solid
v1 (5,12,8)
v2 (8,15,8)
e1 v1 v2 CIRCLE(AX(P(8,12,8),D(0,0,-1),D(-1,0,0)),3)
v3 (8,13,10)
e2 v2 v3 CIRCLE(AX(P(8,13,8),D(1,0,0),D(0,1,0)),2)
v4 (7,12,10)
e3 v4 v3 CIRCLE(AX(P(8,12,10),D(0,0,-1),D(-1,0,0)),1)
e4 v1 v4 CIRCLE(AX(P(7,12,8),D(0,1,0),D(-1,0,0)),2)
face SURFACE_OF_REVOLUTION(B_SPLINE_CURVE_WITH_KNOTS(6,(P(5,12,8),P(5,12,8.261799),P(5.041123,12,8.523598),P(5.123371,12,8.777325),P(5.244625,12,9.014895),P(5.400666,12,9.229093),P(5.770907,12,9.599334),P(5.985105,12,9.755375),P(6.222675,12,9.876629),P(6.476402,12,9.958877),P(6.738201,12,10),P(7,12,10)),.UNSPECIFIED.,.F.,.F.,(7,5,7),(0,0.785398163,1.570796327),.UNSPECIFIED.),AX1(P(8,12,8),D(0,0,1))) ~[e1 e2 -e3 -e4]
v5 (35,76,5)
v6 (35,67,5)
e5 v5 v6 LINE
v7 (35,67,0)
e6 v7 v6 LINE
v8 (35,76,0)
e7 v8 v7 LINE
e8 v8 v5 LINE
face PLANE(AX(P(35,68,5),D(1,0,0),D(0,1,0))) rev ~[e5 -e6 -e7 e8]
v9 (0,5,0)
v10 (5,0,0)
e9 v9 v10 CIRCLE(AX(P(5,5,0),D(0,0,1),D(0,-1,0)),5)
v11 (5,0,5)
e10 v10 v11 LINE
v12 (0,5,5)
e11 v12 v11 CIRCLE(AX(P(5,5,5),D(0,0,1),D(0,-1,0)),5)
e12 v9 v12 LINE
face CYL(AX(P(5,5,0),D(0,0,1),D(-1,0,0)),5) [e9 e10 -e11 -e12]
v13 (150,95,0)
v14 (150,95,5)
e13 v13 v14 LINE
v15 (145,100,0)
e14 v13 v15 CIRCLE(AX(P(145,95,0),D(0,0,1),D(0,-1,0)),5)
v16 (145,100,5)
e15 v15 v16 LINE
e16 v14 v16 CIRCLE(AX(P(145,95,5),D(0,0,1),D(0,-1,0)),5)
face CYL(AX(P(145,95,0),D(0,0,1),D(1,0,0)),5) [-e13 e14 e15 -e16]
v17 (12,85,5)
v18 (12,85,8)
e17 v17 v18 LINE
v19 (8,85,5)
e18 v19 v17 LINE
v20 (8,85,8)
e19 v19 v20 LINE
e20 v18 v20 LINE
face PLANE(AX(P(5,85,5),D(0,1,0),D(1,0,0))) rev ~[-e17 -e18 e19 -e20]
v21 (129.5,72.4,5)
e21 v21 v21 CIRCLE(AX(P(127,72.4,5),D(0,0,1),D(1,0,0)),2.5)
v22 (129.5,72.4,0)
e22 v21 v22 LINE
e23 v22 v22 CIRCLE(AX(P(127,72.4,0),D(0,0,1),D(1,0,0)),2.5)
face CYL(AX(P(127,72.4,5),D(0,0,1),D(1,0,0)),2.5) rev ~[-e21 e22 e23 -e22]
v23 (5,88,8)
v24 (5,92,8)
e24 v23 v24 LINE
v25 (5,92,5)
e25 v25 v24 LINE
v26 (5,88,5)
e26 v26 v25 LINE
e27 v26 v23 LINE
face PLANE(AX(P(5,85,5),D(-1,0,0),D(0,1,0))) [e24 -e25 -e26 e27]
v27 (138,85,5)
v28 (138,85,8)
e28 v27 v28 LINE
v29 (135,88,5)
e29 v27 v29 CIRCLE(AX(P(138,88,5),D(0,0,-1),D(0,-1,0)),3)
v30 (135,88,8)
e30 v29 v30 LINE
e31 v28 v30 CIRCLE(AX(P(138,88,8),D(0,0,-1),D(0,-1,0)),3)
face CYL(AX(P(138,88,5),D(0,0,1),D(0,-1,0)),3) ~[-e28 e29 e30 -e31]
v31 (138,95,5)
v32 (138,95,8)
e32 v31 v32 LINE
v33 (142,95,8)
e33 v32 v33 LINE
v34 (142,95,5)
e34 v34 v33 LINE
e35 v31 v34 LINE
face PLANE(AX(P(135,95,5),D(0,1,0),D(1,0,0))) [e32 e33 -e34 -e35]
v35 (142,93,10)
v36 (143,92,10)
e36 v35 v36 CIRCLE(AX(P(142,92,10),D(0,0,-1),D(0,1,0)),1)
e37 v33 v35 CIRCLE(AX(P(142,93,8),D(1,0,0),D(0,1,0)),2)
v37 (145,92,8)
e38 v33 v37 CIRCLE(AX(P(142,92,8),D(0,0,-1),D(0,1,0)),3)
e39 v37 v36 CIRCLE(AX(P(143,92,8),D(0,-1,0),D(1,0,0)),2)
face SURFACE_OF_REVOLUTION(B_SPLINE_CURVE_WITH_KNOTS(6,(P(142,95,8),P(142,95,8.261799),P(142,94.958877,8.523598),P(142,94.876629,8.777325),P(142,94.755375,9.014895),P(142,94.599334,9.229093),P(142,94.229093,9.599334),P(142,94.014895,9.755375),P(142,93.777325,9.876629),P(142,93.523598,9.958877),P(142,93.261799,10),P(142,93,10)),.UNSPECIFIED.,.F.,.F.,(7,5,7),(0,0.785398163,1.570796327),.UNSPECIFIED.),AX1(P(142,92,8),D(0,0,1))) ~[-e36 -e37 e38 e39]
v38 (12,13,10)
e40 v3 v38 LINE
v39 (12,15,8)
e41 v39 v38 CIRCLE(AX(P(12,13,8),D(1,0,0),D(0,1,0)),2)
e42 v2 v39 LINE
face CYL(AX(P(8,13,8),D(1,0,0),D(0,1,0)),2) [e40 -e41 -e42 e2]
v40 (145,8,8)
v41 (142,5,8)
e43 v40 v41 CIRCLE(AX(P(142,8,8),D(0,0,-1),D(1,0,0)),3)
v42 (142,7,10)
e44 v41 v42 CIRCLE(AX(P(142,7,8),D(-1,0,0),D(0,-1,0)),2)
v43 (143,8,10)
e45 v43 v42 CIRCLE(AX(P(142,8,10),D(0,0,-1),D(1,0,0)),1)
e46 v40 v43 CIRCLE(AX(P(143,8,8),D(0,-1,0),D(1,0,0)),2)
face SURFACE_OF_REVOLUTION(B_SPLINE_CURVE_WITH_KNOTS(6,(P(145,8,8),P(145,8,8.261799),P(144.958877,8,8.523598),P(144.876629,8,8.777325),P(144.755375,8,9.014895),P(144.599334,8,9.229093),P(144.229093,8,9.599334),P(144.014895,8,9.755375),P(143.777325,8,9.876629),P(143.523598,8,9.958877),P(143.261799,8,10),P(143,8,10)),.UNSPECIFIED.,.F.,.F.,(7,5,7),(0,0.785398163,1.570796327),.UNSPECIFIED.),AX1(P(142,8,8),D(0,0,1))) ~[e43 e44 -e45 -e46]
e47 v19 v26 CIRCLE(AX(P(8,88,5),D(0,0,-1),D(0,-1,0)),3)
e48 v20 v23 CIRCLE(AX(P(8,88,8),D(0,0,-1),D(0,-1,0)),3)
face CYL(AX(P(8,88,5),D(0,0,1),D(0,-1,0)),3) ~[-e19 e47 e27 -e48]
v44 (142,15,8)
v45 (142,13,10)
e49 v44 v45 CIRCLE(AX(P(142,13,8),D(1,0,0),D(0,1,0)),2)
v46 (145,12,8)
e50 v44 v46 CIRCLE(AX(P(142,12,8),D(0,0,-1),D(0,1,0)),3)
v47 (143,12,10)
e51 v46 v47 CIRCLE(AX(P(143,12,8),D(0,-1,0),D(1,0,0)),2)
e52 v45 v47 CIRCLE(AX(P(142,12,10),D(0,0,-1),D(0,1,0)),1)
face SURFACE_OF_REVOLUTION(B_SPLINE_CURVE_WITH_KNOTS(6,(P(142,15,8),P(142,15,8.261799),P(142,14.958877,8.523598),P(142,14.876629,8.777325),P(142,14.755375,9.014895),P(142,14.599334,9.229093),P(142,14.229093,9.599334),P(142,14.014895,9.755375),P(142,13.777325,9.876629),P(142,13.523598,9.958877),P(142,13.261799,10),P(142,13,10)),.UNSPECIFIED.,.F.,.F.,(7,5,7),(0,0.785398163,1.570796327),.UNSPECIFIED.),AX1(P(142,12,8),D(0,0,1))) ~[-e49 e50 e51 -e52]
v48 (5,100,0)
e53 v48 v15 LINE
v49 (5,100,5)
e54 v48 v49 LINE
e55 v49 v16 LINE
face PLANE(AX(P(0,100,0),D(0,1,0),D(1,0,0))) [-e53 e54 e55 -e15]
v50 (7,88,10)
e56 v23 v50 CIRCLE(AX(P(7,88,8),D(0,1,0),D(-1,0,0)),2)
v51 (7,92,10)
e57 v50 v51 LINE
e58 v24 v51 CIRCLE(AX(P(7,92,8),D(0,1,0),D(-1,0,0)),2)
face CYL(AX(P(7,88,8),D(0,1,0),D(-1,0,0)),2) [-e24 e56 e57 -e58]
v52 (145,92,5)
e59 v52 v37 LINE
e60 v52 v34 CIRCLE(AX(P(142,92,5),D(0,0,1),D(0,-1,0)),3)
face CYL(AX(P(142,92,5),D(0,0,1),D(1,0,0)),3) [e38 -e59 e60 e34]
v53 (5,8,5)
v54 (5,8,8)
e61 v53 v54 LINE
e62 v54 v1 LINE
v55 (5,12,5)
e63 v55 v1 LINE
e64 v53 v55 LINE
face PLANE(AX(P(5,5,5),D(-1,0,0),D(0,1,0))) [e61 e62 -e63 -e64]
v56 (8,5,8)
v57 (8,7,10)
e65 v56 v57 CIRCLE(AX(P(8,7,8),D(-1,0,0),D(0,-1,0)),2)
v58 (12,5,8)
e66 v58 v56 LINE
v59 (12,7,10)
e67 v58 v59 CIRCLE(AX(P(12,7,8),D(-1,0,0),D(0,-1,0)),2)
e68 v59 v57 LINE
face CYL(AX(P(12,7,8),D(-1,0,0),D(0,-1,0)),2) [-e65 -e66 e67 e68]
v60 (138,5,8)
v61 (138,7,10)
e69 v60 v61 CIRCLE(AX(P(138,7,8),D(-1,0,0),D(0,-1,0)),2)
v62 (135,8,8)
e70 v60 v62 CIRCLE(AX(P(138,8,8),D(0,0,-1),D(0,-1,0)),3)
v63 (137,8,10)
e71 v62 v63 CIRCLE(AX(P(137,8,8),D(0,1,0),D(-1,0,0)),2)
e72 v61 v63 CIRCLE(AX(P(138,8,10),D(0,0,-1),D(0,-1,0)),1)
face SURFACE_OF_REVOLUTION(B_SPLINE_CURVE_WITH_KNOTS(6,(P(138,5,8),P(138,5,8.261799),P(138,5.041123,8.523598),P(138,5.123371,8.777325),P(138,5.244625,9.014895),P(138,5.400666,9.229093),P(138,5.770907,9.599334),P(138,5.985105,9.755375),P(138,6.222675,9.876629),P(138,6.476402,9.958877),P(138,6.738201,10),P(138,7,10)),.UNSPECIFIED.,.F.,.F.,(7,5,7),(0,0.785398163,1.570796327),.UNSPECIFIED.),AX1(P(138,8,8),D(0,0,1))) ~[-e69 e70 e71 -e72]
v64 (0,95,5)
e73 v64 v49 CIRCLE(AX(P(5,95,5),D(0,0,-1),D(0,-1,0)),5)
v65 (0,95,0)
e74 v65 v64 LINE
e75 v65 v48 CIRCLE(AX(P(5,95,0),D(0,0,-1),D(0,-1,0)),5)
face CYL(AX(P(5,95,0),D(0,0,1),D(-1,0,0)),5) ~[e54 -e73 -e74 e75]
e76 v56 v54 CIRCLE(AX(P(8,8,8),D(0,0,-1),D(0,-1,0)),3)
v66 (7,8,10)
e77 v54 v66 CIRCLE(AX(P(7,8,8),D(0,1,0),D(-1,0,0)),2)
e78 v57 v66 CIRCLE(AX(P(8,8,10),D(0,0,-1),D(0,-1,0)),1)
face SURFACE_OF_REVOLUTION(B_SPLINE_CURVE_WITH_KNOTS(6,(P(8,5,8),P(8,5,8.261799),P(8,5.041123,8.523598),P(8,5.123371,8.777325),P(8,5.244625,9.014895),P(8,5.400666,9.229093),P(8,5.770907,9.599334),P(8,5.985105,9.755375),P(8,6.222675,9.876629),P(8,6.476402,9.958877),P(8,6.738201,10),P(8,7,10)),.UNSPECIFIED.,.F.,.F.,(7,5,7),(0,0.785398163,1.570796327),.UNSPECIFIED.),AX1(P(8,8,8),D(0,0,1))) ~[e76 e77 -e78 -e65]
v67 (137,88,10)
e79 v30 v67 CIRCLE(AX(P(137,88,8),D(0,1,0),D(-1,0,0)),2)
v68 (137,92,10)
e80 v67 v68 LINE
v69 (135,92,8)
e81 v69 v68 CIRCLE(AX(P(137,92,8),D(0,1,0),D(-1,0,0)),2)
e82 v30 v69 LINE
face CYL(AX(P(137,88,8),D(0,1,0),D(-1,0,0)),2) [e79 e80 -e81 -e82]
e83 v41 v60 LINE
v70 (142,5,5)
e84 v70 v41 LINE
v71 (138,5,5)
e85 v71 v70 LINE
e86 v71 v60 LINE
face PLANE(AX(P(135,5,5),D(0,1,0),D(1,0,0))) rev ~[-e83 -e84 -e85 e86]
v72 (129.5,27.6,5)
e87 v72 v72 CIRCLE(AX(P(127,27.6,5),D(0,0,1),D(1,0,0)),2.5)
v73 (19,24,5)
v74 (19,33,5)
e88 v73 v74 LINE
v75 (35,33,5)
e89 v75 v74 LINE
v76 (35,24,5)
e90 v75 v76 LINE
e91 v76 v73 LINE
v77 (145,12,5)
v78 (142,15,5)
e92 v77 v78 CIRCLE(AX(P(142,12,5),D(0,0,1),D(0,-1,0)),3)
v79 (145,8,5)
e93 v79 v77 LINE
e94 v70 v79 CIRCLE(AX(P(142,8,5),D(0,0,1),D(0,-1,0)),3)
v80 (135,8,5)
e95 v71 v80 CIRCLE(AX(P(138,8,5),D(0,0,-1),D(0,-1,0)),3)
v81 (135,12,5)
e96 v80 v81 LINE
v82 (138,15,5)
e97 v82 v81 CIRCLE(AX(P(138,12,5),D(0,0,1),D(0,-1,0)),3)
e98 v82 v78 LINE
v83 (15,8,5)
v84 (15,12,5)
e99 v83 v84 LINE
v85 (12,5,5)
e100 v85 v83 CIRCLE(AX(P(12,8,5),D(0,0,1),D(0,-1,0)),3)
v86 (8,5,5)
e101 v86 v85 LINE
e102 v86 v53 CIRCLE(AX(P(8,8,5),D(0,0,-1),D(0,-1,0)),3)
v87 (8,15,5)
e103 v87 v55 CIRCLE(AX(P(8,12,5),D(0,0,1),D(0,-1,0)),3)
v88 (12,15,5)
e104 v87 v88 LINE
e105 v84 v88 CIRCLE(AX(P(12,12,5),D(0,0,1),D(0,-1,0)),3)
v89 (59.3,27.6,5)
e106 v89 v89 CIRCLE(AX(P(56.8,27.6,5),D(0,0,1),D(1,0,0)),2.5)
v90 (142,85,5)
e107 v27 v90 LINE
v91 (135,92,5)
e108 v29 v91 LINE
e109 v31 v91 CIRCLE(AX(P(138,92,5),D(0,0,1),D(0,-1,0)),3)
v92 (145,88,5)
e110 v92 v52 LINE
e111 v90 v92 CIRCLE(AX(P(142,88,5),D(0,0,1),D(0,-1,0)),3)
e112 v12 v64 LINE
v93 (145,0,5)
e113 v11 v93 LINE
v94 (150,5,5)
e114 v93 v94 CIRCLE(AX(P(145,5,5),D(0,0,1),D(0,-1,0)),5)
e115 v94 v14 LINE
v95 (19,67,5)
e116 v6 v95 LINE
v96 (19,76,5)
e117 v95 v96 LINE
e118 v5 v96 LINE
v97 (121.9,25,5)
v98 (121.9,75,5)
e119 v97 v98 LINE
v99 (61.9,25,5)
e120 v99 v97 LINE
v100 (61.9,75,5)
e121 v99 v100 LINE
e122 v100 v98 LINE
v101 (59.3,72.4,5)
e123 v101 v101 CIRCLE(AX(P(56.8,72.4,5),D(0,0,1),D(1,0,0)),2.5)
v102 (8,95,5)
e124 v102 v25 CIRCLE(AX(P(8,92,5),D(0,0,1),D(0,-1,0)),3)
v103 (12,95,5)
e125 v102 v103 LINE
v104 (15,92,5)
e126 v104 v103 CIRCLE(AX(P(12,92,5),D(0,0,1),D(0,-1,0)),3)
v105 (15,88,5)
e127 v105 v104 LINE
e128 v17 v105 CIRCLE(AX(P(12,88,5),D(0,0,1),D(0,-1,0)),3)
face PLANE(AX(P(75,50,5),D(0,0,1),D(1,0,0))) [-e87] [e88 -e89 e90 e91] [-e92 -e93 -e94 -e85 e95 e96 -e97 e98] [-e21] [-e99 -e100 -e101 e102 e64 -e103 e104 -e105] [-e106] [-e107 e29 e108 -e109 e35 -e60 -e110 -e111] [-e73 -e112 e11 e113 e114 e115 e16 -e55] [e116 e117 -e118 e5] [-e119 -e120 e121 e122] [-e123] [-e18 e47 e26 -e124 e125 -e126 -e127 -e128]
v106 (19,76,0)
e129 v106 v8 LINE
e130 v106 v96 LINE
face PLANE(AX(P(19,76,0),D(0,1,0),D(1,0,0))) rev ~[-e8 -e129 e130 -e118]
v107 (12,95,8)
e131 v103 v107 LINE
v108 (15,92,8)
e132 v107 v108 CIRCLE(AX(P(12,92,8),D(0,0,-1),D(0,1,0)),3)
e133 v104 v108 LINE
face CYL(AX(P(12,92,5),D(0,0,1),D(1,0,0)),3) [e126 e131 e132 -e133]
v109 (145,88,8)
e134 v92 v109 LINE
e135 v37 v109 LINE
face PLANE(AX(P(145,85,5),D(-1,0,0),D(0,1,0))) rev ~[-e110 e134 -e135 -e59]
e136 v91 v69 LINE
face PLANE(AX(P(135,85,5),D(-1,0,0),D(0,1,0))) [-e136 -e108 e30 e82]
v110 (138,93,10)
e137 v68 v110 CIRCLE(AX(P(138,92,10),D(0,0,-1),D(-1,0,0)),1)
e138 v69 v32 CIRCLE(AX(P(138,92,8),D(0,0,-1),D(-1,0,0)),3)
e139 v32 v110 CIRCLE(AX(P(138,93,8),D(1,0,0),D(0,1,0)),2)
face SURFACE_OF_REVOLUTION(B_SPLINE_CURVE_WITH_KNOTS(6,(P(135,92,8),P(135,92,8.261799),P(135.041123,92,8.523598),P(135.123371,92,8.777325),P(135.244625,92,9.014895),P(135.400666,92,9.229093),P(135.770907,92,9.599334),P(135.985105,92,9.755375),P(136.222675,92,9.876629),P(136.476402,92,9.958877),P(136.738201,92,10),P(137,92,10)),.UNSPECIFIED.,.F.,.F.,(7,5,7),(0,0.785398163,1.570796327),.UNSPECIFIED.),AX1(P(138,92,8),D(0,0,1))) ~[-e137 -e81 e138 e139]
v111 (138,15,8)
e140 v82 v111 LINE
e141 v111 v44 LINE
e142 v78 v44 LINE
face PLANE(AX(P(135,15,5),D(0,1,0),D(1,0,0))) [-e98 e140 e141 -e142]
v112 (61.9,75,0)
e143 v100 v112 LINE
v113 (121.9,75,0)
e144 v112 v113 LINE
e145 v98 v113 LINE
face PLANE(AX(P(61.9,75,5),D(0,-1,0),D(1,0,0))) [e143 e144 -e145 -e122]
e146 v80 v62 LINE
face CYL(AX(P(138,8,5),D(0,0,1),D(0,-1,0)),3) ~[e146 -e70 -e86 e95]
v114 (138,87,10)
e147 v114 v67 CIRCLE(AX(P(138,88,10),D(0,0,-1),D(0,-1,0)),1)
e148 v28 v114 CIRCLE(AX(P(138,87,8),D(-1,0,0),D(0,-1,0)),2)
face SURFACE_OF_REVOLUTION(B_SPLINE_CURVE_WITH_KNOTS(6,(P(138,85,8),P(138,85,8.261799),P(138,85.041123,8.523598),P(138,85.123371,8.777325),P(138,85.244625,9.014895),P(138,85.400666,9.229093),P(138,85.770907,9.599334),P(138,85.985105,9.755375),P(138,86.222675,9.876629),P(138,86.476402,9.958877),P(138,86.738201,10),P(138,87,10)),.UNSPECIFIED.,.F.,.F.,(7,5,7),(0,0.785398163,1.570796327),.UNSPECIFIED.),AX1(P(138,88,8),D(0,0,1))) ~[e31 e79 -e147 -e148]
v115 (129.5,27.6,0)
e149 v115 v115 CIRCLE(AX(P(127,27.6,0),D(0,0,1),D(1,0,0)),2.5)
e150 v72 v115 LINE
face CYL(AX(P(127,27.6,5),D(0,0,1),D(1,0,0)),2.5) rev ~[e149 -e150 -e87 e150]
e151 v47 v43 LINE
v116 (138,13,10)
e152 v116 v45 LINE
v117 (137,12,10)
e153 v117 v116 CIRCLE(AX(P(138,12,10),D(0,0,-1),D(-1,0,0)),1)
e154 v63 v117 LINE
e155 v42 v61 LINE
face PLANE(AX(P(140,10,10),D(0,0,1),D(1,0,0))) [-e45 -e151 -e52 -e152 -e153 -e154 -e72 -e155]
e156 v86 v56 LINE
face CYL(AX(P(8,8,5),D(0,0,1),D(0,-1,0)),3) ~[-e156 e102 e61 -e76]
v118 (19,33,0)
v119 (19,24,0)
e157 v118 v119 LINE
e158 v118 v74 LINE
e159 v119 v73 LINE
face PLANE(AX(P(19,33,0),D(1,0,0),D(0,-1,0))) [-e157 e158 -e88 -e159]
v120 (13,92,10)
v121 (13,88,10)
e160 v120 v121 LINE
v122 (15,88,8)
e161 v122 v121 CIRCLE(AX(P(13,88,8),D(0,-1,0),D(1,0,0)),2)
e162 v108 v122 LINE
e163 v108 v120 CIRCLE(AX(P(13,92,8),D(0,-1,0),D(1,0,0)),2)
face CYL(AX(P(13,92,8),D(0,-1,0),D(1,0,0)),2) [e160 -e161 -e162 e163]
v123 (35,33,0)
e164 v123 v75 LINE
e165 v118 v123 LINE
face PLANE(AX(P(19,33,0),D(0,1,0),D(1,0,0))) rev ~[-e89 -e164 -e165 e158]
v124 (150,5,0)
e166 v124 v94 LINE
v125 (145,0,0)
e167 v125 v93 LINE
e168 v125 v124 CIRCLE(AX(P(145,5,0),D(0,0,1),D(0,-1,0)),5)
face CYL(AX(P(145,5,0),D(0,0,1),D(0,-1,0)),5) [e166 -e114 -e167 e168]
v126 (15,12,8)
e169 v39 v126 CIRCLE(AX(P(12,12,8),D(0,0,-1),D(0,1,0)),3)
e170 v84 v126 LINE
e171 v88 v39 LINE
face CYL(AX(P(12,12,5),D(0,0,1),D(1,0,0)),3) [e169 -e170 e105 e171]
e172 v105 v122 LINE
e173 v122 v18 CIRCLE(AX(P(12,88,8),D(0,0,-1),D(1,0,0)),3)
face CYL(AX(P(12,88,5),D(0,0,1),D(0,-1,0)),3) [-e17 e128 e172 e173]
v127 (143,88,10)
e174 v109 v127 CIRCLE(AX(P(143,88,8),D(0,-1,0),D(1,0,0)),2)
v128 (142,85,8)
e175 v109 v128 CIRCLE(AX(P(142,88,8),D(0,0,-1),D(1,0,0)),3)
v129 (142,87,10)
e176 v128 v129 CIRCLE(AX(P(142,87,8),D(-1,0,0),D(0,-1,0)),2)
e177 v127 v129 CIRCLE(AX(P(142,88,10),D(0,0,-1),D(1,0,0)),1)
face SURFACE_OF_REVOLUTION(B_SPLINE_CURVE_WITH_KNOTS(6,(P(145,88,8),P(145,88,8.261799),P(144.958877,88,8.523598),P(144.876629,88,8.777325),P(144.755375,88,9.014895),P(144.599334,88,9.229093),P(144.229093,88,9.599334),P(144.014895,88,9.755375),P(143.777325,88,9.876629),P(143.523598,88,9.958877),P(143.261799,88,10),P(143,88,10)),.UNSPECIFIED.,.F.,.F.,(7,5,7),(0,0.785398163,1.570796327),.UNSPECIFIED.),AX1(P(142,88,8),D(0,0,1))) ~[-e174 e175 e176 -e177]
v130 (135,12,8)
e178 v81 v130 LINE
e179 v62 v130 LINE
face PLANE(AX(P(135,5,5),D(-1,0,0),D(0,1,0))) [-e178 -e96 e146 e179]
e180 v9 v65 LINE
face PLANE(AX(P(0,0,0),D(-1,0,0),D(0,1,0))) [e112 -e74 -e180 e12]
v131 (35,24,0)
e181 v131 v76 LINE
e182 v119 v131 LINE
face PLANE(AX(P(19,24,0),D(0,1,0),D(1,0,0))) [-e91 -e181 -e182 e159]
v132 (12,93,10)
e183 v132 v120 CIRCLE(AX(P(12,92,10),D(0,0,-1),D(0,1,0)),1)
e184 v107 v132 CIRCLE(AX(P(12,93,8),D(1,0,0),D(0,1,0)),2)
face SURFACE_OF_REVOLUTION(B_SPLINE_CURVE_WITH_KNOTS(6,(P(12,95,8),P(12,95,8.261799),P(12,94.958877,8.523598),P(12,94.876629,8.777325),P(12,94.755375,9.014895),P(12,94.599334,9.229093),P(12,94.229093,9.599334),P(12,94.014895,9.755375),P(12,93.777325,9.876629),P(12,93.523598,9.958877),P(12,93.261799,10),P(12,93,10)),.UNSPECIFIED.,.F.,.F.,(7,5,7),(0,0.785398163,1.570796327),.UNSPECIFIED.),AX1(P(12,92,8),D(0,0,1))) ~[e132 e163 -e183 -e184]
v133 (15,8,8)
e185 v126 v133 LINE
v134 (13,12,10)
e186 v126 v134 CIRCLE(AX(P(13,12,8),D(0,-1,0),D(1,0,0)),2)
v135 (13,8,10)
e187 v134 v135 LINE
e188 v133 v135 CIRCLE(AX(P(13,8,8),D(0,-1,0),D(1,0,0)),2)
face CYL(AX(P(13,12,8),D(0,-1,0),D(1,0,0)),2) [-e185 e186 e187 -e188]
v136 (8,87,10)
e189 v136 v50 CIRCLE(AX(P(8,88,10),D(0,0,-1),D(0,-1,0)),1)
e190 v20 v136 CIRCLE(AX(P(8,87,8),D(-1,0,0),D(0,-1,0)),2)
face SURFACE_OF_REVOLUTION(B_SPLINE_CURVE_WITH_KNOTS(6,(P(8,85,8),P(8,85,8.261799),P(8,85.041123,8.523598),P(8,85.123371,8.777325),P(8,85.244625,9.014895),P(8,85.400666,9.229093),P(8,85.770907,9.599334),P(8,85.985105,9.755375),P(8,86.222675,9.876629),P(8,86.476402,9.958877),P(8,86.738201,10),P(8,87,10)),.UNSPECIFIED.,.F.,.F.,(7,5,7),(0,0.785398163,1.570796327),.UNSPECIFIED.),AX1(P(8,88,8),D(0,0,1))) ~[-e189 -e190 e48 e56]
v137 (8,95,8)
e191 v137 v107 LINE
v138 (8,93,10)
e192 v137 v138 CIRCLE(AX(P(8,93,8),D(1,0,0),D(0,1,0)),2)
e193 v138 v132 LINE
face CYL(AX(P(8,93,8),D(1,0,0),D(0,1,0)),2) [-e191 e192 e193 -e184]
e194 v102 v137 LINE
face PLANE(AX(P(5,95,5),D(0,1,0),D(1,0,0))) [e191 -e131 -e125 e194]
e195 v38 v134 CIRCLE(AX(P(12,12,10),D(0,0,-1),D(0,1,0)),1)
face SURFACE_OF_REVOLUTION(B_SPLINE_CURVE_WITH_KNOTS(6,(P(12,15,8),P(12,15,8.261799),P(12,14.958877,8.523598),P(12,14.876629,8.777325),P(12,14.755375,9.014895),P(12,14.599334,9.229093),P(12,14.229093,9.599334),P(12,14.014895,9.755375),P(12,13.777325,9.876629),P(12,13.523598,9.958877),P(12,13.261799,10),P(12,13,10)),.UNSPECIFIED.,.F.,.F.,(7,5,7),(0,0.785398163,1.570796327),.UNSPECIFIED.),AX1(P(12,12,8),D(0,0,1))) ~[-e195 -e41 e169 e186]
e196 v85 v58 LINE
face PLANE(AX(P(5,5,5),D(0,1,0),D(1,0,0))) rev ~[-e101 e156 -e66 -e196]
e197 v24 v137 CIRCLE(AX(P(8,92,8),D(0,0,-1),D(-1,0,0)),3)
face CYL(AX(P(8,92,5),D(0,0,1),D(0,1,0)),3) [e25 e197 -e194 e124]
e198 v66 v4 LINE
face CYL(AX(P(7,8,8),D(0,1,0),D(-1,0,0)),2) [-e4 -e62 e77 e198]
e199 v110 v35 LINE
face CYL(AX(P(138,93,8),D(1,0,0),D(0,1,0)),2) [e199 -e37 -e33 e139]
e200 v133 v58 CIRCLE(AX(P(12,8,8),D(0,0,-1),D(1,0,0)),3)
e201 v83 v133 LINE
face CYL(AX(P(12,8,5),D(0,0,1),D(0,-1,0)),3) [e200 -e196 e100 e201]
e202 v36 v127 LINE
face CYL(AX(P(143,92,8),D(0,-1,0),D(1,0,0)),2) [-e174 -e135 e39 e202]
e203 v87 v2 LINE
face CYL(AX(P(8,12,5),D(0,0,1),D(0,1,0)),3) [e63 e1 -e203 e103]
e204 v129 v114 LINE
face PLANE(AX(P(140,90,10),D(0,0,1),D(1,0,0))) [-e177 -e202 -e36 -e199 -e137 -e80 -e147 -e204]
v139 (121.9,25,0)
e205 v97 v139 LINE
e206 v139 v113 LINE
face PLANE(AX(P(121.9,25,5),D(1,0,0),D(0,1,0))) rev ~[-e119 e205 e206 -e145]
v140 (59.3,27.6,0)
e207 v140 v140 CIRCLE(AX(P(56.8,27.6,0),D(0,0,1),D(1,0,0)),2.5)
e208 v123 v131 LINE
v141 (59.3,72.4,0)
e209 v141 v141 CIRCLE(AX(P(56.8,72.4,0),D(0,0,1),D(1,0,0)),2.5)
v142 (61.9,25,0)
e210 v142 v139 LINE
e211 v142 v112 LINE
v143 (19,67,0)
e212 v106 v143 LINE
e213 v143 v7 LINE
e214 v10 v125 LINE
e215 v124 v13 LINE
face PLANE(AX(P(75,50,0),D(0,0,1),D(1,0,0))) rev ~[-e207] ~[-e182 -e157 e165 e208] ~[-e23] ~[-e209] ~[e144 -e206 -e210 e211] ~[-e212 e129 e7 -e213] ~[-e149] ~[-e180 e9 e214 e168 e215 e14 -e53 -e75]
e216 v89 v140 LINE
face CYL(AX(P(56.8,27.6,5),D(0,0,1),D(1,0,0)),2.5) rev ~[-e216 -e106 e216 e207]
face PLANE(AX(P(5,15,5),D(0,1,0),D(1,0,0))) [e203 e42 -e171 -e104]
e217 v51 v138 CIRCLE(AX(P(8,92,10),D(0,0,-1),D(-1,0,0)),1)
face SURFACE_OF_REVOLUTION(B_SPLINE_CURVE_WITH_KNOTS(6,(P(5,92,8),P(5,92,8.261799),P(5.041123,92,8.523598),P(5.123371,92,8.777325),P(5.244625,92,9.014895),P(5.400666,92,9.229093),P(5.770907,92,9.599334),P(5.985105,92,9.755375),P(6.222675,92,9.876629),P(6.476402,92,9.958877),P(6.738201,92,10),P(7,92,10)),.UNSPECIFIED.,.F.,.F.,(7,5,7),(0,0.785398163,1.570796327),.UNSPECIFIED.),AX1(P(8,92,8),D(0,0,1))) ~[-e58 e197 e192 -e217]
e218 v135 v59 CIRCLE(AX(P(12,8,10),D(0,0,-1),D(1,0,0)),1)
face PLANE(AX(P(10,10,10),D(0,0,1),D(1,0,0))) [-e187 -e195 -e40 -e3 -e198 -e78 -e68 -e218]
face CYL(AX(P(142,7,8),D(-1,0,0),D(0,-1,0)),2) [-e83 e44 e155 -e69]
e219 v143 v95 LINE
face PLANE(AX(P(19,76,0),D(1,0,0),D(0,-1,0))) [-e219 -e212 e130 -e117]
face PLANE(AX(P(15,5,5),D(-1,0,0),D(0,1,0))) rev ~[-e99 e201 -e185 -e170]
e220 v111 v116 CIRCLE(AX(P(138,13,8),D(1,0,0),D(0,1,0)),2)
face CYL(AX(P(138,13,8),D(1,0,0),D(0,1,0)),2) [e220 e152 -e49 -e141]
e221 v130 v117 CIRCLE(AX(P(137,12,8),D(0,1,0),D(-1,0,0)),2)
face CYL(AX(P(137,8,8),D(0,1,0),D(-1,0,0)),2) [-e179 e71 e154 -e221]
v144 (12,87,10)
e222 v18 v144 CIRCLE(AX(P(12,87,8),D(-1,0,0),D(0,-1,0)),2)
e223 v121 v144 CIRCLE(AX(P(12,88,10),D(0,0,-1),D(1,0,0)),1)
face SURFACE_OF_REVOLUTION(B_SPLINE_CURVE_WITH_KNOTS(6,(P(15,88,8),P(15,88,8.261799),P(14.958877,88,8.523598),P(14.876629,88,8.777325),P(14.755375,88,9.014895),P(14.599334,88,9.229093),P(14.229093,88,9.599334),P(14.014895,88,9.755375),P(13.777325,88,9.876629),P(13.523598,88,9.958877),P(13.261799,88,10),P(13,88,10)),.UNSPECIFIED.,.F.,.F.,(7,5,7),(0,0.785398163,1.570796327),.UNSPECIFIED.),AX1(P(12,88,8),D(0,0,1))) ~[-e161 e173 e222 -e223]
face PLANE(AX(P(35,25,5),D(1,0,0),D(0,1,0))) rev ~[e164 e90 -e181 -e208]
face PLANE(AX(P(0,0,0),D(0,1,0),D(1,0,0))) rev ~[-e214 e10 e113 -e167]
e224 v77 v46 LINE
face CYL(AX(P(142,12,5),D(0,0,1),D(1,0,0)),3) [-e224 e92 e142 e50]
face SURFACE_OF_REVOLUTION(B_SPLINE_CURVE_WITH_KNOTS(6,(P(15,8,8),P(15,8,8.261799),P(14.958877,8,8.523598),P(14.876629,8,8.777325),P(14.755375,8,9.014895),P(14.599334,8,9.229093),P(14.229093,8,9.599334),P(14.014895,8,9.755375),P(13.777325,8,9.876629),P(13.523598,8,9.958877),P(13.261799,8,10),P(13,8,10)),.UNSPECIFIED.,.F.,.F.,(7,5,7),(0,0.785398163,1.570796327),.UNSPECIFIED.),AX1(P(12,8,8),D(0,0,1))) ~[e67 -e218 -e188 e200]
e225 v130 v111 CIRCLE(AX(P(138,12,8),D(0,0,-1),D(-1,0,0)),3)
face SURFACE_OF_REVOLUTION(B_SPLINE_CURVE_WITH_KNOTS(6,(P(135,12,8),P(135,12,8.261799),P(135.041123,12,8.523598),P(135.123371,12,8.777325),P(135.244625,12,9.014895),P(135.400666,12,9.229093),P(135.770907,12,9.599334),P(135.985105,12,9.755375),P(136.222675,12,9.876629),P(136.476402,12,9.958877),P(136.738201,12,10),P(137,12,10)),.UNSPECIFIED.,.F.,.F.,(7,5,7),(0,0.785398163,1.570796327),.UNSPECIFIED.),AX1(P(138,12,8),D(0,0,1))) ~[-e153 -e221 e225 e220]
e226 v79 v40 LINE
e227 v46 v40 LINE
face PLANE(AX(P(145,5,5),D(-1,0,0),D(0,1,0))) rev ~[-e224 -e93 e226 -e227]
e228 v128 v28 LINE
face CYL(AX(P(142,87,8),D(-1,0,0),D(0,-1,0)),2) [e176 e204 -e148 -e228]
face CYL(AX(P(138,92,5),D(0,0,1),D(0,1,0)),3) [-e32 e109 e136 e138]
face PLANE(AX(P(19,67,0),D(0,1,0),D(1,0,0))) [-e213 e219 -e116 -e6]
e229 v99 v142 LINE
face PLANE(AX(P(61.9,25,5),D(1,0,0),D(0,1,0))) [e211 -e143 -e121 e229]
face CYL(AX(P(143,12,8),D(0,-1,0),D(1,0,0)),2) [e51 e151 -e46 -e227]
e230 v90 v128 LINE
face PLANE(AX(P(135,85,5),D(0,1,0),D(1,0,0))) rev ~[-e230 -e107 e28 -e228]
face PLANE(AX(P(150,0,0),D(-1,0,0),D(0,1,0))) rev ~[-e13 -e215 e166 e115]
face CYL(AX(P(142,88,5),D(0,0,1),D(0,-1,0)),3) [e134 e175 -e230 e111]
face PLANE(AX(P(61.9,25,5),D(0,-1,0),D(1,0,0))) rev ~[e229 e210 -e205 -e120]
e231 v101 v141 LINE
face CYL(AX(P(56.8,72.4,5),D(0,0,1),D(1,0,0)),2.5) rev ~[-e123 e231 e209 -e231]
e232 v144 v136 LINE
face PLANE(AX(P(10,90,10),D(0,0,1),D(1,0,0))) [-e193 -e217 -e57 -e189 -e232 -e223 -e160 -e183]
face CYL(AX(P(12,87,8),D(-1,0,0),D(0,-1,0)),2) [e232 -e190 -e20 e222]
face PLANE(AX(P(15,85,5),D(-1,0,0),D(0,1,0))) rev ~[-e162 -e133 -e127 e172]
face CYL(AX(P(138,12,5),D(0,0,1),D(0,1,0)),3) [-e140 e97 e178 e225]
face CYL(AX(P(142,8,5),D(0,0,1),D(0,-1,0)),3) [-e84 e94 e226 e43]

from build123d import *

# Parameters (mm, degrees)
SKETCH_W        = 150
SKETCH_H        = 100
PAD_DEPTH       = 5
FILLET_R        = 5
SKETCH001_W     = 10
SKETCH001_H     = 10
PAD001_DEPTH    = 5
FILLET001_R     = 3
FILLET002_R     = 2
SKETCH002_R     = 2.5
POCKET_DEPTH    = 5
SKETCH003_W     = 60
SKETCH003_H     = 50
POCKET001_DEPTH = 5.001
SKETCH004_W     = 14
SKETCH004_H     = 7
POCKET002_DEPTH = 5.001
SKETCH005_W     = 16
SKETCH005_H     = 7
POCKET003_DEPTH = 2
SKETCH006_W     = 16
SKETCH006_H     = 9
POCKET004_DEPTH = 10.001


with BuildPart() as part:
    # Sketch → Pad (new body)
    with BuildSketch(Plane.XY):
        with Locations((75, 50)):
            Rectangle(SKETCH_W, SKETCH_H)
    extrude(amount=PAD_DEPTH)

    # Fillet
    fillet_edges = [part.edges().sort_by_distance(p)[0] for p in [
        (0, 0, 2.5),
        (150, 0, 2.5),
        (150, 100, 2.5),
        (0, 100, 2.5),
    ]]
    fillet(fillet_edges, radius=FILLET_R)

    # Sketch001 → Pad001 (new body)
    with BuildSketch(Plane.XY.offset(5)):
        with Locations((10, 10)):
            Rectangle(SKETCH001_W, SKETCH001_H)
        with Locations((140, 90)):
            Rectangle(SKETCH001_W, SKETCH001_H)
        with Locations((10, 90)):
            Rectangle(SKETCH001_W, SKETCH001_H)
        with Locations((140, 10)):
            Rectangle(SKETCH001_W, SKETCH001_H)
    extrude(amount=PAD001_DEPTH)

    # Fillet001
    fillet001_edges = [part.edges().sort_by_distance(p)[0] for p in [
        (5, 5, 7.5),
        (15, 5, 7.5),
        (5, 15, 7.5),
        (15, 15, 7.5),
        (5, 95, 7.5),
        (15, 95, 7.5),
        (5, 85, 7.5),
        (15, 85, 7.5),
        (135, 5, 7.5),
        (145, 5, 7.5),
        (145, 15, 7.5),
        (135, 85, 7.5),
        (145, 85, 7.5),
        (145, 95, 7.5),
        (135, 95, 7.5),
        (135, 15, 7.5),
    ]]
    fillet(fillet001_edges, radius=FILLET001_R)

    # Fillet002
    fillet002_edges = [part.edges().sort_by_distance(p)[0] for p in [
        (10, 15, 10),
        (140, 15, 10),
        (140, 95, 10),
        (10, 95, 10),
    ]]
    fillet(fillet002_edges, radius=FILLET002_R)

    # Sketch002 → Pocket (cut)
    with BuildSketch(Plane.XY.offset(5)):
        with Locations((56.8, 72.4)):
            Circle(SKETCH002_R)
        with Locations((127, 72.4)):
            Circle(SKETCH002_R)
        with Locations((56.8, 27.6)):
            Circle(SKETCH002_R)
        with Locations((127, 27.6)):
            Circle(SKETCH002_R)
    extrude(amount=-POCKET_DEPTH, mode=Mode.SUBTRACT)

    # Sketch003 → Pocket001 (cut, through all)
    with BuildSketch(Plane.XY.offset(5)):
        with Locations((91.9, 50)):
            Rectangle(SKETCH003_W, SKETCH003_H)
    extrude(amount=-POCKET001_DEPTH, mode=Mode.SUBTRACT)

    # Sketch004 → Pocket002 (cut, through all)
    with BuildSketch(Plane.XY.offset(5)):
        with Locations((27, 71.5)):
            Rectangle(SKETCH004_W, SKETCH004_H)
        with Locations((27, 28.5)):
            Rectangle(SKETCH004_W, SKETCH004_H)
    extrude(amount=-POCKET002_DEPTH, mode=Mode.SUBTRACT)

    # Sketch005 → Pocket003 (cut)
    with BuildSketch(Plane.XY.offset(5)):
        with Locations((27, 71.5)):
            Rectangle(SKETCH005_W, SKETCH005_H)
        with Locations((27, 28.5)):
            Rectangle(SKETCH005_W, SKETCH005_H)
    extrude(amount=-POCKET003_DEPTH, mode=Mode.SUBTRACT)

    # Sketch006 → Pocket004 (cut, through all)
    with BuildSketch(Plane(origin=(0, 0, 0), x_dir=(1, 0, 0), z_dir=(0, 0, -1))):
        with Locations((27, -28.5)):
            Rectangle(SKETCH006_W, SKETCH006_H)
        with Locations((27, -71.5)):
            Rectangle(SKETCH006_W, SKETCH006_H)
    extrude(amount=-POCKET004_DEPTH, mode=Mode.SUBTRACT)


solid = part.part
